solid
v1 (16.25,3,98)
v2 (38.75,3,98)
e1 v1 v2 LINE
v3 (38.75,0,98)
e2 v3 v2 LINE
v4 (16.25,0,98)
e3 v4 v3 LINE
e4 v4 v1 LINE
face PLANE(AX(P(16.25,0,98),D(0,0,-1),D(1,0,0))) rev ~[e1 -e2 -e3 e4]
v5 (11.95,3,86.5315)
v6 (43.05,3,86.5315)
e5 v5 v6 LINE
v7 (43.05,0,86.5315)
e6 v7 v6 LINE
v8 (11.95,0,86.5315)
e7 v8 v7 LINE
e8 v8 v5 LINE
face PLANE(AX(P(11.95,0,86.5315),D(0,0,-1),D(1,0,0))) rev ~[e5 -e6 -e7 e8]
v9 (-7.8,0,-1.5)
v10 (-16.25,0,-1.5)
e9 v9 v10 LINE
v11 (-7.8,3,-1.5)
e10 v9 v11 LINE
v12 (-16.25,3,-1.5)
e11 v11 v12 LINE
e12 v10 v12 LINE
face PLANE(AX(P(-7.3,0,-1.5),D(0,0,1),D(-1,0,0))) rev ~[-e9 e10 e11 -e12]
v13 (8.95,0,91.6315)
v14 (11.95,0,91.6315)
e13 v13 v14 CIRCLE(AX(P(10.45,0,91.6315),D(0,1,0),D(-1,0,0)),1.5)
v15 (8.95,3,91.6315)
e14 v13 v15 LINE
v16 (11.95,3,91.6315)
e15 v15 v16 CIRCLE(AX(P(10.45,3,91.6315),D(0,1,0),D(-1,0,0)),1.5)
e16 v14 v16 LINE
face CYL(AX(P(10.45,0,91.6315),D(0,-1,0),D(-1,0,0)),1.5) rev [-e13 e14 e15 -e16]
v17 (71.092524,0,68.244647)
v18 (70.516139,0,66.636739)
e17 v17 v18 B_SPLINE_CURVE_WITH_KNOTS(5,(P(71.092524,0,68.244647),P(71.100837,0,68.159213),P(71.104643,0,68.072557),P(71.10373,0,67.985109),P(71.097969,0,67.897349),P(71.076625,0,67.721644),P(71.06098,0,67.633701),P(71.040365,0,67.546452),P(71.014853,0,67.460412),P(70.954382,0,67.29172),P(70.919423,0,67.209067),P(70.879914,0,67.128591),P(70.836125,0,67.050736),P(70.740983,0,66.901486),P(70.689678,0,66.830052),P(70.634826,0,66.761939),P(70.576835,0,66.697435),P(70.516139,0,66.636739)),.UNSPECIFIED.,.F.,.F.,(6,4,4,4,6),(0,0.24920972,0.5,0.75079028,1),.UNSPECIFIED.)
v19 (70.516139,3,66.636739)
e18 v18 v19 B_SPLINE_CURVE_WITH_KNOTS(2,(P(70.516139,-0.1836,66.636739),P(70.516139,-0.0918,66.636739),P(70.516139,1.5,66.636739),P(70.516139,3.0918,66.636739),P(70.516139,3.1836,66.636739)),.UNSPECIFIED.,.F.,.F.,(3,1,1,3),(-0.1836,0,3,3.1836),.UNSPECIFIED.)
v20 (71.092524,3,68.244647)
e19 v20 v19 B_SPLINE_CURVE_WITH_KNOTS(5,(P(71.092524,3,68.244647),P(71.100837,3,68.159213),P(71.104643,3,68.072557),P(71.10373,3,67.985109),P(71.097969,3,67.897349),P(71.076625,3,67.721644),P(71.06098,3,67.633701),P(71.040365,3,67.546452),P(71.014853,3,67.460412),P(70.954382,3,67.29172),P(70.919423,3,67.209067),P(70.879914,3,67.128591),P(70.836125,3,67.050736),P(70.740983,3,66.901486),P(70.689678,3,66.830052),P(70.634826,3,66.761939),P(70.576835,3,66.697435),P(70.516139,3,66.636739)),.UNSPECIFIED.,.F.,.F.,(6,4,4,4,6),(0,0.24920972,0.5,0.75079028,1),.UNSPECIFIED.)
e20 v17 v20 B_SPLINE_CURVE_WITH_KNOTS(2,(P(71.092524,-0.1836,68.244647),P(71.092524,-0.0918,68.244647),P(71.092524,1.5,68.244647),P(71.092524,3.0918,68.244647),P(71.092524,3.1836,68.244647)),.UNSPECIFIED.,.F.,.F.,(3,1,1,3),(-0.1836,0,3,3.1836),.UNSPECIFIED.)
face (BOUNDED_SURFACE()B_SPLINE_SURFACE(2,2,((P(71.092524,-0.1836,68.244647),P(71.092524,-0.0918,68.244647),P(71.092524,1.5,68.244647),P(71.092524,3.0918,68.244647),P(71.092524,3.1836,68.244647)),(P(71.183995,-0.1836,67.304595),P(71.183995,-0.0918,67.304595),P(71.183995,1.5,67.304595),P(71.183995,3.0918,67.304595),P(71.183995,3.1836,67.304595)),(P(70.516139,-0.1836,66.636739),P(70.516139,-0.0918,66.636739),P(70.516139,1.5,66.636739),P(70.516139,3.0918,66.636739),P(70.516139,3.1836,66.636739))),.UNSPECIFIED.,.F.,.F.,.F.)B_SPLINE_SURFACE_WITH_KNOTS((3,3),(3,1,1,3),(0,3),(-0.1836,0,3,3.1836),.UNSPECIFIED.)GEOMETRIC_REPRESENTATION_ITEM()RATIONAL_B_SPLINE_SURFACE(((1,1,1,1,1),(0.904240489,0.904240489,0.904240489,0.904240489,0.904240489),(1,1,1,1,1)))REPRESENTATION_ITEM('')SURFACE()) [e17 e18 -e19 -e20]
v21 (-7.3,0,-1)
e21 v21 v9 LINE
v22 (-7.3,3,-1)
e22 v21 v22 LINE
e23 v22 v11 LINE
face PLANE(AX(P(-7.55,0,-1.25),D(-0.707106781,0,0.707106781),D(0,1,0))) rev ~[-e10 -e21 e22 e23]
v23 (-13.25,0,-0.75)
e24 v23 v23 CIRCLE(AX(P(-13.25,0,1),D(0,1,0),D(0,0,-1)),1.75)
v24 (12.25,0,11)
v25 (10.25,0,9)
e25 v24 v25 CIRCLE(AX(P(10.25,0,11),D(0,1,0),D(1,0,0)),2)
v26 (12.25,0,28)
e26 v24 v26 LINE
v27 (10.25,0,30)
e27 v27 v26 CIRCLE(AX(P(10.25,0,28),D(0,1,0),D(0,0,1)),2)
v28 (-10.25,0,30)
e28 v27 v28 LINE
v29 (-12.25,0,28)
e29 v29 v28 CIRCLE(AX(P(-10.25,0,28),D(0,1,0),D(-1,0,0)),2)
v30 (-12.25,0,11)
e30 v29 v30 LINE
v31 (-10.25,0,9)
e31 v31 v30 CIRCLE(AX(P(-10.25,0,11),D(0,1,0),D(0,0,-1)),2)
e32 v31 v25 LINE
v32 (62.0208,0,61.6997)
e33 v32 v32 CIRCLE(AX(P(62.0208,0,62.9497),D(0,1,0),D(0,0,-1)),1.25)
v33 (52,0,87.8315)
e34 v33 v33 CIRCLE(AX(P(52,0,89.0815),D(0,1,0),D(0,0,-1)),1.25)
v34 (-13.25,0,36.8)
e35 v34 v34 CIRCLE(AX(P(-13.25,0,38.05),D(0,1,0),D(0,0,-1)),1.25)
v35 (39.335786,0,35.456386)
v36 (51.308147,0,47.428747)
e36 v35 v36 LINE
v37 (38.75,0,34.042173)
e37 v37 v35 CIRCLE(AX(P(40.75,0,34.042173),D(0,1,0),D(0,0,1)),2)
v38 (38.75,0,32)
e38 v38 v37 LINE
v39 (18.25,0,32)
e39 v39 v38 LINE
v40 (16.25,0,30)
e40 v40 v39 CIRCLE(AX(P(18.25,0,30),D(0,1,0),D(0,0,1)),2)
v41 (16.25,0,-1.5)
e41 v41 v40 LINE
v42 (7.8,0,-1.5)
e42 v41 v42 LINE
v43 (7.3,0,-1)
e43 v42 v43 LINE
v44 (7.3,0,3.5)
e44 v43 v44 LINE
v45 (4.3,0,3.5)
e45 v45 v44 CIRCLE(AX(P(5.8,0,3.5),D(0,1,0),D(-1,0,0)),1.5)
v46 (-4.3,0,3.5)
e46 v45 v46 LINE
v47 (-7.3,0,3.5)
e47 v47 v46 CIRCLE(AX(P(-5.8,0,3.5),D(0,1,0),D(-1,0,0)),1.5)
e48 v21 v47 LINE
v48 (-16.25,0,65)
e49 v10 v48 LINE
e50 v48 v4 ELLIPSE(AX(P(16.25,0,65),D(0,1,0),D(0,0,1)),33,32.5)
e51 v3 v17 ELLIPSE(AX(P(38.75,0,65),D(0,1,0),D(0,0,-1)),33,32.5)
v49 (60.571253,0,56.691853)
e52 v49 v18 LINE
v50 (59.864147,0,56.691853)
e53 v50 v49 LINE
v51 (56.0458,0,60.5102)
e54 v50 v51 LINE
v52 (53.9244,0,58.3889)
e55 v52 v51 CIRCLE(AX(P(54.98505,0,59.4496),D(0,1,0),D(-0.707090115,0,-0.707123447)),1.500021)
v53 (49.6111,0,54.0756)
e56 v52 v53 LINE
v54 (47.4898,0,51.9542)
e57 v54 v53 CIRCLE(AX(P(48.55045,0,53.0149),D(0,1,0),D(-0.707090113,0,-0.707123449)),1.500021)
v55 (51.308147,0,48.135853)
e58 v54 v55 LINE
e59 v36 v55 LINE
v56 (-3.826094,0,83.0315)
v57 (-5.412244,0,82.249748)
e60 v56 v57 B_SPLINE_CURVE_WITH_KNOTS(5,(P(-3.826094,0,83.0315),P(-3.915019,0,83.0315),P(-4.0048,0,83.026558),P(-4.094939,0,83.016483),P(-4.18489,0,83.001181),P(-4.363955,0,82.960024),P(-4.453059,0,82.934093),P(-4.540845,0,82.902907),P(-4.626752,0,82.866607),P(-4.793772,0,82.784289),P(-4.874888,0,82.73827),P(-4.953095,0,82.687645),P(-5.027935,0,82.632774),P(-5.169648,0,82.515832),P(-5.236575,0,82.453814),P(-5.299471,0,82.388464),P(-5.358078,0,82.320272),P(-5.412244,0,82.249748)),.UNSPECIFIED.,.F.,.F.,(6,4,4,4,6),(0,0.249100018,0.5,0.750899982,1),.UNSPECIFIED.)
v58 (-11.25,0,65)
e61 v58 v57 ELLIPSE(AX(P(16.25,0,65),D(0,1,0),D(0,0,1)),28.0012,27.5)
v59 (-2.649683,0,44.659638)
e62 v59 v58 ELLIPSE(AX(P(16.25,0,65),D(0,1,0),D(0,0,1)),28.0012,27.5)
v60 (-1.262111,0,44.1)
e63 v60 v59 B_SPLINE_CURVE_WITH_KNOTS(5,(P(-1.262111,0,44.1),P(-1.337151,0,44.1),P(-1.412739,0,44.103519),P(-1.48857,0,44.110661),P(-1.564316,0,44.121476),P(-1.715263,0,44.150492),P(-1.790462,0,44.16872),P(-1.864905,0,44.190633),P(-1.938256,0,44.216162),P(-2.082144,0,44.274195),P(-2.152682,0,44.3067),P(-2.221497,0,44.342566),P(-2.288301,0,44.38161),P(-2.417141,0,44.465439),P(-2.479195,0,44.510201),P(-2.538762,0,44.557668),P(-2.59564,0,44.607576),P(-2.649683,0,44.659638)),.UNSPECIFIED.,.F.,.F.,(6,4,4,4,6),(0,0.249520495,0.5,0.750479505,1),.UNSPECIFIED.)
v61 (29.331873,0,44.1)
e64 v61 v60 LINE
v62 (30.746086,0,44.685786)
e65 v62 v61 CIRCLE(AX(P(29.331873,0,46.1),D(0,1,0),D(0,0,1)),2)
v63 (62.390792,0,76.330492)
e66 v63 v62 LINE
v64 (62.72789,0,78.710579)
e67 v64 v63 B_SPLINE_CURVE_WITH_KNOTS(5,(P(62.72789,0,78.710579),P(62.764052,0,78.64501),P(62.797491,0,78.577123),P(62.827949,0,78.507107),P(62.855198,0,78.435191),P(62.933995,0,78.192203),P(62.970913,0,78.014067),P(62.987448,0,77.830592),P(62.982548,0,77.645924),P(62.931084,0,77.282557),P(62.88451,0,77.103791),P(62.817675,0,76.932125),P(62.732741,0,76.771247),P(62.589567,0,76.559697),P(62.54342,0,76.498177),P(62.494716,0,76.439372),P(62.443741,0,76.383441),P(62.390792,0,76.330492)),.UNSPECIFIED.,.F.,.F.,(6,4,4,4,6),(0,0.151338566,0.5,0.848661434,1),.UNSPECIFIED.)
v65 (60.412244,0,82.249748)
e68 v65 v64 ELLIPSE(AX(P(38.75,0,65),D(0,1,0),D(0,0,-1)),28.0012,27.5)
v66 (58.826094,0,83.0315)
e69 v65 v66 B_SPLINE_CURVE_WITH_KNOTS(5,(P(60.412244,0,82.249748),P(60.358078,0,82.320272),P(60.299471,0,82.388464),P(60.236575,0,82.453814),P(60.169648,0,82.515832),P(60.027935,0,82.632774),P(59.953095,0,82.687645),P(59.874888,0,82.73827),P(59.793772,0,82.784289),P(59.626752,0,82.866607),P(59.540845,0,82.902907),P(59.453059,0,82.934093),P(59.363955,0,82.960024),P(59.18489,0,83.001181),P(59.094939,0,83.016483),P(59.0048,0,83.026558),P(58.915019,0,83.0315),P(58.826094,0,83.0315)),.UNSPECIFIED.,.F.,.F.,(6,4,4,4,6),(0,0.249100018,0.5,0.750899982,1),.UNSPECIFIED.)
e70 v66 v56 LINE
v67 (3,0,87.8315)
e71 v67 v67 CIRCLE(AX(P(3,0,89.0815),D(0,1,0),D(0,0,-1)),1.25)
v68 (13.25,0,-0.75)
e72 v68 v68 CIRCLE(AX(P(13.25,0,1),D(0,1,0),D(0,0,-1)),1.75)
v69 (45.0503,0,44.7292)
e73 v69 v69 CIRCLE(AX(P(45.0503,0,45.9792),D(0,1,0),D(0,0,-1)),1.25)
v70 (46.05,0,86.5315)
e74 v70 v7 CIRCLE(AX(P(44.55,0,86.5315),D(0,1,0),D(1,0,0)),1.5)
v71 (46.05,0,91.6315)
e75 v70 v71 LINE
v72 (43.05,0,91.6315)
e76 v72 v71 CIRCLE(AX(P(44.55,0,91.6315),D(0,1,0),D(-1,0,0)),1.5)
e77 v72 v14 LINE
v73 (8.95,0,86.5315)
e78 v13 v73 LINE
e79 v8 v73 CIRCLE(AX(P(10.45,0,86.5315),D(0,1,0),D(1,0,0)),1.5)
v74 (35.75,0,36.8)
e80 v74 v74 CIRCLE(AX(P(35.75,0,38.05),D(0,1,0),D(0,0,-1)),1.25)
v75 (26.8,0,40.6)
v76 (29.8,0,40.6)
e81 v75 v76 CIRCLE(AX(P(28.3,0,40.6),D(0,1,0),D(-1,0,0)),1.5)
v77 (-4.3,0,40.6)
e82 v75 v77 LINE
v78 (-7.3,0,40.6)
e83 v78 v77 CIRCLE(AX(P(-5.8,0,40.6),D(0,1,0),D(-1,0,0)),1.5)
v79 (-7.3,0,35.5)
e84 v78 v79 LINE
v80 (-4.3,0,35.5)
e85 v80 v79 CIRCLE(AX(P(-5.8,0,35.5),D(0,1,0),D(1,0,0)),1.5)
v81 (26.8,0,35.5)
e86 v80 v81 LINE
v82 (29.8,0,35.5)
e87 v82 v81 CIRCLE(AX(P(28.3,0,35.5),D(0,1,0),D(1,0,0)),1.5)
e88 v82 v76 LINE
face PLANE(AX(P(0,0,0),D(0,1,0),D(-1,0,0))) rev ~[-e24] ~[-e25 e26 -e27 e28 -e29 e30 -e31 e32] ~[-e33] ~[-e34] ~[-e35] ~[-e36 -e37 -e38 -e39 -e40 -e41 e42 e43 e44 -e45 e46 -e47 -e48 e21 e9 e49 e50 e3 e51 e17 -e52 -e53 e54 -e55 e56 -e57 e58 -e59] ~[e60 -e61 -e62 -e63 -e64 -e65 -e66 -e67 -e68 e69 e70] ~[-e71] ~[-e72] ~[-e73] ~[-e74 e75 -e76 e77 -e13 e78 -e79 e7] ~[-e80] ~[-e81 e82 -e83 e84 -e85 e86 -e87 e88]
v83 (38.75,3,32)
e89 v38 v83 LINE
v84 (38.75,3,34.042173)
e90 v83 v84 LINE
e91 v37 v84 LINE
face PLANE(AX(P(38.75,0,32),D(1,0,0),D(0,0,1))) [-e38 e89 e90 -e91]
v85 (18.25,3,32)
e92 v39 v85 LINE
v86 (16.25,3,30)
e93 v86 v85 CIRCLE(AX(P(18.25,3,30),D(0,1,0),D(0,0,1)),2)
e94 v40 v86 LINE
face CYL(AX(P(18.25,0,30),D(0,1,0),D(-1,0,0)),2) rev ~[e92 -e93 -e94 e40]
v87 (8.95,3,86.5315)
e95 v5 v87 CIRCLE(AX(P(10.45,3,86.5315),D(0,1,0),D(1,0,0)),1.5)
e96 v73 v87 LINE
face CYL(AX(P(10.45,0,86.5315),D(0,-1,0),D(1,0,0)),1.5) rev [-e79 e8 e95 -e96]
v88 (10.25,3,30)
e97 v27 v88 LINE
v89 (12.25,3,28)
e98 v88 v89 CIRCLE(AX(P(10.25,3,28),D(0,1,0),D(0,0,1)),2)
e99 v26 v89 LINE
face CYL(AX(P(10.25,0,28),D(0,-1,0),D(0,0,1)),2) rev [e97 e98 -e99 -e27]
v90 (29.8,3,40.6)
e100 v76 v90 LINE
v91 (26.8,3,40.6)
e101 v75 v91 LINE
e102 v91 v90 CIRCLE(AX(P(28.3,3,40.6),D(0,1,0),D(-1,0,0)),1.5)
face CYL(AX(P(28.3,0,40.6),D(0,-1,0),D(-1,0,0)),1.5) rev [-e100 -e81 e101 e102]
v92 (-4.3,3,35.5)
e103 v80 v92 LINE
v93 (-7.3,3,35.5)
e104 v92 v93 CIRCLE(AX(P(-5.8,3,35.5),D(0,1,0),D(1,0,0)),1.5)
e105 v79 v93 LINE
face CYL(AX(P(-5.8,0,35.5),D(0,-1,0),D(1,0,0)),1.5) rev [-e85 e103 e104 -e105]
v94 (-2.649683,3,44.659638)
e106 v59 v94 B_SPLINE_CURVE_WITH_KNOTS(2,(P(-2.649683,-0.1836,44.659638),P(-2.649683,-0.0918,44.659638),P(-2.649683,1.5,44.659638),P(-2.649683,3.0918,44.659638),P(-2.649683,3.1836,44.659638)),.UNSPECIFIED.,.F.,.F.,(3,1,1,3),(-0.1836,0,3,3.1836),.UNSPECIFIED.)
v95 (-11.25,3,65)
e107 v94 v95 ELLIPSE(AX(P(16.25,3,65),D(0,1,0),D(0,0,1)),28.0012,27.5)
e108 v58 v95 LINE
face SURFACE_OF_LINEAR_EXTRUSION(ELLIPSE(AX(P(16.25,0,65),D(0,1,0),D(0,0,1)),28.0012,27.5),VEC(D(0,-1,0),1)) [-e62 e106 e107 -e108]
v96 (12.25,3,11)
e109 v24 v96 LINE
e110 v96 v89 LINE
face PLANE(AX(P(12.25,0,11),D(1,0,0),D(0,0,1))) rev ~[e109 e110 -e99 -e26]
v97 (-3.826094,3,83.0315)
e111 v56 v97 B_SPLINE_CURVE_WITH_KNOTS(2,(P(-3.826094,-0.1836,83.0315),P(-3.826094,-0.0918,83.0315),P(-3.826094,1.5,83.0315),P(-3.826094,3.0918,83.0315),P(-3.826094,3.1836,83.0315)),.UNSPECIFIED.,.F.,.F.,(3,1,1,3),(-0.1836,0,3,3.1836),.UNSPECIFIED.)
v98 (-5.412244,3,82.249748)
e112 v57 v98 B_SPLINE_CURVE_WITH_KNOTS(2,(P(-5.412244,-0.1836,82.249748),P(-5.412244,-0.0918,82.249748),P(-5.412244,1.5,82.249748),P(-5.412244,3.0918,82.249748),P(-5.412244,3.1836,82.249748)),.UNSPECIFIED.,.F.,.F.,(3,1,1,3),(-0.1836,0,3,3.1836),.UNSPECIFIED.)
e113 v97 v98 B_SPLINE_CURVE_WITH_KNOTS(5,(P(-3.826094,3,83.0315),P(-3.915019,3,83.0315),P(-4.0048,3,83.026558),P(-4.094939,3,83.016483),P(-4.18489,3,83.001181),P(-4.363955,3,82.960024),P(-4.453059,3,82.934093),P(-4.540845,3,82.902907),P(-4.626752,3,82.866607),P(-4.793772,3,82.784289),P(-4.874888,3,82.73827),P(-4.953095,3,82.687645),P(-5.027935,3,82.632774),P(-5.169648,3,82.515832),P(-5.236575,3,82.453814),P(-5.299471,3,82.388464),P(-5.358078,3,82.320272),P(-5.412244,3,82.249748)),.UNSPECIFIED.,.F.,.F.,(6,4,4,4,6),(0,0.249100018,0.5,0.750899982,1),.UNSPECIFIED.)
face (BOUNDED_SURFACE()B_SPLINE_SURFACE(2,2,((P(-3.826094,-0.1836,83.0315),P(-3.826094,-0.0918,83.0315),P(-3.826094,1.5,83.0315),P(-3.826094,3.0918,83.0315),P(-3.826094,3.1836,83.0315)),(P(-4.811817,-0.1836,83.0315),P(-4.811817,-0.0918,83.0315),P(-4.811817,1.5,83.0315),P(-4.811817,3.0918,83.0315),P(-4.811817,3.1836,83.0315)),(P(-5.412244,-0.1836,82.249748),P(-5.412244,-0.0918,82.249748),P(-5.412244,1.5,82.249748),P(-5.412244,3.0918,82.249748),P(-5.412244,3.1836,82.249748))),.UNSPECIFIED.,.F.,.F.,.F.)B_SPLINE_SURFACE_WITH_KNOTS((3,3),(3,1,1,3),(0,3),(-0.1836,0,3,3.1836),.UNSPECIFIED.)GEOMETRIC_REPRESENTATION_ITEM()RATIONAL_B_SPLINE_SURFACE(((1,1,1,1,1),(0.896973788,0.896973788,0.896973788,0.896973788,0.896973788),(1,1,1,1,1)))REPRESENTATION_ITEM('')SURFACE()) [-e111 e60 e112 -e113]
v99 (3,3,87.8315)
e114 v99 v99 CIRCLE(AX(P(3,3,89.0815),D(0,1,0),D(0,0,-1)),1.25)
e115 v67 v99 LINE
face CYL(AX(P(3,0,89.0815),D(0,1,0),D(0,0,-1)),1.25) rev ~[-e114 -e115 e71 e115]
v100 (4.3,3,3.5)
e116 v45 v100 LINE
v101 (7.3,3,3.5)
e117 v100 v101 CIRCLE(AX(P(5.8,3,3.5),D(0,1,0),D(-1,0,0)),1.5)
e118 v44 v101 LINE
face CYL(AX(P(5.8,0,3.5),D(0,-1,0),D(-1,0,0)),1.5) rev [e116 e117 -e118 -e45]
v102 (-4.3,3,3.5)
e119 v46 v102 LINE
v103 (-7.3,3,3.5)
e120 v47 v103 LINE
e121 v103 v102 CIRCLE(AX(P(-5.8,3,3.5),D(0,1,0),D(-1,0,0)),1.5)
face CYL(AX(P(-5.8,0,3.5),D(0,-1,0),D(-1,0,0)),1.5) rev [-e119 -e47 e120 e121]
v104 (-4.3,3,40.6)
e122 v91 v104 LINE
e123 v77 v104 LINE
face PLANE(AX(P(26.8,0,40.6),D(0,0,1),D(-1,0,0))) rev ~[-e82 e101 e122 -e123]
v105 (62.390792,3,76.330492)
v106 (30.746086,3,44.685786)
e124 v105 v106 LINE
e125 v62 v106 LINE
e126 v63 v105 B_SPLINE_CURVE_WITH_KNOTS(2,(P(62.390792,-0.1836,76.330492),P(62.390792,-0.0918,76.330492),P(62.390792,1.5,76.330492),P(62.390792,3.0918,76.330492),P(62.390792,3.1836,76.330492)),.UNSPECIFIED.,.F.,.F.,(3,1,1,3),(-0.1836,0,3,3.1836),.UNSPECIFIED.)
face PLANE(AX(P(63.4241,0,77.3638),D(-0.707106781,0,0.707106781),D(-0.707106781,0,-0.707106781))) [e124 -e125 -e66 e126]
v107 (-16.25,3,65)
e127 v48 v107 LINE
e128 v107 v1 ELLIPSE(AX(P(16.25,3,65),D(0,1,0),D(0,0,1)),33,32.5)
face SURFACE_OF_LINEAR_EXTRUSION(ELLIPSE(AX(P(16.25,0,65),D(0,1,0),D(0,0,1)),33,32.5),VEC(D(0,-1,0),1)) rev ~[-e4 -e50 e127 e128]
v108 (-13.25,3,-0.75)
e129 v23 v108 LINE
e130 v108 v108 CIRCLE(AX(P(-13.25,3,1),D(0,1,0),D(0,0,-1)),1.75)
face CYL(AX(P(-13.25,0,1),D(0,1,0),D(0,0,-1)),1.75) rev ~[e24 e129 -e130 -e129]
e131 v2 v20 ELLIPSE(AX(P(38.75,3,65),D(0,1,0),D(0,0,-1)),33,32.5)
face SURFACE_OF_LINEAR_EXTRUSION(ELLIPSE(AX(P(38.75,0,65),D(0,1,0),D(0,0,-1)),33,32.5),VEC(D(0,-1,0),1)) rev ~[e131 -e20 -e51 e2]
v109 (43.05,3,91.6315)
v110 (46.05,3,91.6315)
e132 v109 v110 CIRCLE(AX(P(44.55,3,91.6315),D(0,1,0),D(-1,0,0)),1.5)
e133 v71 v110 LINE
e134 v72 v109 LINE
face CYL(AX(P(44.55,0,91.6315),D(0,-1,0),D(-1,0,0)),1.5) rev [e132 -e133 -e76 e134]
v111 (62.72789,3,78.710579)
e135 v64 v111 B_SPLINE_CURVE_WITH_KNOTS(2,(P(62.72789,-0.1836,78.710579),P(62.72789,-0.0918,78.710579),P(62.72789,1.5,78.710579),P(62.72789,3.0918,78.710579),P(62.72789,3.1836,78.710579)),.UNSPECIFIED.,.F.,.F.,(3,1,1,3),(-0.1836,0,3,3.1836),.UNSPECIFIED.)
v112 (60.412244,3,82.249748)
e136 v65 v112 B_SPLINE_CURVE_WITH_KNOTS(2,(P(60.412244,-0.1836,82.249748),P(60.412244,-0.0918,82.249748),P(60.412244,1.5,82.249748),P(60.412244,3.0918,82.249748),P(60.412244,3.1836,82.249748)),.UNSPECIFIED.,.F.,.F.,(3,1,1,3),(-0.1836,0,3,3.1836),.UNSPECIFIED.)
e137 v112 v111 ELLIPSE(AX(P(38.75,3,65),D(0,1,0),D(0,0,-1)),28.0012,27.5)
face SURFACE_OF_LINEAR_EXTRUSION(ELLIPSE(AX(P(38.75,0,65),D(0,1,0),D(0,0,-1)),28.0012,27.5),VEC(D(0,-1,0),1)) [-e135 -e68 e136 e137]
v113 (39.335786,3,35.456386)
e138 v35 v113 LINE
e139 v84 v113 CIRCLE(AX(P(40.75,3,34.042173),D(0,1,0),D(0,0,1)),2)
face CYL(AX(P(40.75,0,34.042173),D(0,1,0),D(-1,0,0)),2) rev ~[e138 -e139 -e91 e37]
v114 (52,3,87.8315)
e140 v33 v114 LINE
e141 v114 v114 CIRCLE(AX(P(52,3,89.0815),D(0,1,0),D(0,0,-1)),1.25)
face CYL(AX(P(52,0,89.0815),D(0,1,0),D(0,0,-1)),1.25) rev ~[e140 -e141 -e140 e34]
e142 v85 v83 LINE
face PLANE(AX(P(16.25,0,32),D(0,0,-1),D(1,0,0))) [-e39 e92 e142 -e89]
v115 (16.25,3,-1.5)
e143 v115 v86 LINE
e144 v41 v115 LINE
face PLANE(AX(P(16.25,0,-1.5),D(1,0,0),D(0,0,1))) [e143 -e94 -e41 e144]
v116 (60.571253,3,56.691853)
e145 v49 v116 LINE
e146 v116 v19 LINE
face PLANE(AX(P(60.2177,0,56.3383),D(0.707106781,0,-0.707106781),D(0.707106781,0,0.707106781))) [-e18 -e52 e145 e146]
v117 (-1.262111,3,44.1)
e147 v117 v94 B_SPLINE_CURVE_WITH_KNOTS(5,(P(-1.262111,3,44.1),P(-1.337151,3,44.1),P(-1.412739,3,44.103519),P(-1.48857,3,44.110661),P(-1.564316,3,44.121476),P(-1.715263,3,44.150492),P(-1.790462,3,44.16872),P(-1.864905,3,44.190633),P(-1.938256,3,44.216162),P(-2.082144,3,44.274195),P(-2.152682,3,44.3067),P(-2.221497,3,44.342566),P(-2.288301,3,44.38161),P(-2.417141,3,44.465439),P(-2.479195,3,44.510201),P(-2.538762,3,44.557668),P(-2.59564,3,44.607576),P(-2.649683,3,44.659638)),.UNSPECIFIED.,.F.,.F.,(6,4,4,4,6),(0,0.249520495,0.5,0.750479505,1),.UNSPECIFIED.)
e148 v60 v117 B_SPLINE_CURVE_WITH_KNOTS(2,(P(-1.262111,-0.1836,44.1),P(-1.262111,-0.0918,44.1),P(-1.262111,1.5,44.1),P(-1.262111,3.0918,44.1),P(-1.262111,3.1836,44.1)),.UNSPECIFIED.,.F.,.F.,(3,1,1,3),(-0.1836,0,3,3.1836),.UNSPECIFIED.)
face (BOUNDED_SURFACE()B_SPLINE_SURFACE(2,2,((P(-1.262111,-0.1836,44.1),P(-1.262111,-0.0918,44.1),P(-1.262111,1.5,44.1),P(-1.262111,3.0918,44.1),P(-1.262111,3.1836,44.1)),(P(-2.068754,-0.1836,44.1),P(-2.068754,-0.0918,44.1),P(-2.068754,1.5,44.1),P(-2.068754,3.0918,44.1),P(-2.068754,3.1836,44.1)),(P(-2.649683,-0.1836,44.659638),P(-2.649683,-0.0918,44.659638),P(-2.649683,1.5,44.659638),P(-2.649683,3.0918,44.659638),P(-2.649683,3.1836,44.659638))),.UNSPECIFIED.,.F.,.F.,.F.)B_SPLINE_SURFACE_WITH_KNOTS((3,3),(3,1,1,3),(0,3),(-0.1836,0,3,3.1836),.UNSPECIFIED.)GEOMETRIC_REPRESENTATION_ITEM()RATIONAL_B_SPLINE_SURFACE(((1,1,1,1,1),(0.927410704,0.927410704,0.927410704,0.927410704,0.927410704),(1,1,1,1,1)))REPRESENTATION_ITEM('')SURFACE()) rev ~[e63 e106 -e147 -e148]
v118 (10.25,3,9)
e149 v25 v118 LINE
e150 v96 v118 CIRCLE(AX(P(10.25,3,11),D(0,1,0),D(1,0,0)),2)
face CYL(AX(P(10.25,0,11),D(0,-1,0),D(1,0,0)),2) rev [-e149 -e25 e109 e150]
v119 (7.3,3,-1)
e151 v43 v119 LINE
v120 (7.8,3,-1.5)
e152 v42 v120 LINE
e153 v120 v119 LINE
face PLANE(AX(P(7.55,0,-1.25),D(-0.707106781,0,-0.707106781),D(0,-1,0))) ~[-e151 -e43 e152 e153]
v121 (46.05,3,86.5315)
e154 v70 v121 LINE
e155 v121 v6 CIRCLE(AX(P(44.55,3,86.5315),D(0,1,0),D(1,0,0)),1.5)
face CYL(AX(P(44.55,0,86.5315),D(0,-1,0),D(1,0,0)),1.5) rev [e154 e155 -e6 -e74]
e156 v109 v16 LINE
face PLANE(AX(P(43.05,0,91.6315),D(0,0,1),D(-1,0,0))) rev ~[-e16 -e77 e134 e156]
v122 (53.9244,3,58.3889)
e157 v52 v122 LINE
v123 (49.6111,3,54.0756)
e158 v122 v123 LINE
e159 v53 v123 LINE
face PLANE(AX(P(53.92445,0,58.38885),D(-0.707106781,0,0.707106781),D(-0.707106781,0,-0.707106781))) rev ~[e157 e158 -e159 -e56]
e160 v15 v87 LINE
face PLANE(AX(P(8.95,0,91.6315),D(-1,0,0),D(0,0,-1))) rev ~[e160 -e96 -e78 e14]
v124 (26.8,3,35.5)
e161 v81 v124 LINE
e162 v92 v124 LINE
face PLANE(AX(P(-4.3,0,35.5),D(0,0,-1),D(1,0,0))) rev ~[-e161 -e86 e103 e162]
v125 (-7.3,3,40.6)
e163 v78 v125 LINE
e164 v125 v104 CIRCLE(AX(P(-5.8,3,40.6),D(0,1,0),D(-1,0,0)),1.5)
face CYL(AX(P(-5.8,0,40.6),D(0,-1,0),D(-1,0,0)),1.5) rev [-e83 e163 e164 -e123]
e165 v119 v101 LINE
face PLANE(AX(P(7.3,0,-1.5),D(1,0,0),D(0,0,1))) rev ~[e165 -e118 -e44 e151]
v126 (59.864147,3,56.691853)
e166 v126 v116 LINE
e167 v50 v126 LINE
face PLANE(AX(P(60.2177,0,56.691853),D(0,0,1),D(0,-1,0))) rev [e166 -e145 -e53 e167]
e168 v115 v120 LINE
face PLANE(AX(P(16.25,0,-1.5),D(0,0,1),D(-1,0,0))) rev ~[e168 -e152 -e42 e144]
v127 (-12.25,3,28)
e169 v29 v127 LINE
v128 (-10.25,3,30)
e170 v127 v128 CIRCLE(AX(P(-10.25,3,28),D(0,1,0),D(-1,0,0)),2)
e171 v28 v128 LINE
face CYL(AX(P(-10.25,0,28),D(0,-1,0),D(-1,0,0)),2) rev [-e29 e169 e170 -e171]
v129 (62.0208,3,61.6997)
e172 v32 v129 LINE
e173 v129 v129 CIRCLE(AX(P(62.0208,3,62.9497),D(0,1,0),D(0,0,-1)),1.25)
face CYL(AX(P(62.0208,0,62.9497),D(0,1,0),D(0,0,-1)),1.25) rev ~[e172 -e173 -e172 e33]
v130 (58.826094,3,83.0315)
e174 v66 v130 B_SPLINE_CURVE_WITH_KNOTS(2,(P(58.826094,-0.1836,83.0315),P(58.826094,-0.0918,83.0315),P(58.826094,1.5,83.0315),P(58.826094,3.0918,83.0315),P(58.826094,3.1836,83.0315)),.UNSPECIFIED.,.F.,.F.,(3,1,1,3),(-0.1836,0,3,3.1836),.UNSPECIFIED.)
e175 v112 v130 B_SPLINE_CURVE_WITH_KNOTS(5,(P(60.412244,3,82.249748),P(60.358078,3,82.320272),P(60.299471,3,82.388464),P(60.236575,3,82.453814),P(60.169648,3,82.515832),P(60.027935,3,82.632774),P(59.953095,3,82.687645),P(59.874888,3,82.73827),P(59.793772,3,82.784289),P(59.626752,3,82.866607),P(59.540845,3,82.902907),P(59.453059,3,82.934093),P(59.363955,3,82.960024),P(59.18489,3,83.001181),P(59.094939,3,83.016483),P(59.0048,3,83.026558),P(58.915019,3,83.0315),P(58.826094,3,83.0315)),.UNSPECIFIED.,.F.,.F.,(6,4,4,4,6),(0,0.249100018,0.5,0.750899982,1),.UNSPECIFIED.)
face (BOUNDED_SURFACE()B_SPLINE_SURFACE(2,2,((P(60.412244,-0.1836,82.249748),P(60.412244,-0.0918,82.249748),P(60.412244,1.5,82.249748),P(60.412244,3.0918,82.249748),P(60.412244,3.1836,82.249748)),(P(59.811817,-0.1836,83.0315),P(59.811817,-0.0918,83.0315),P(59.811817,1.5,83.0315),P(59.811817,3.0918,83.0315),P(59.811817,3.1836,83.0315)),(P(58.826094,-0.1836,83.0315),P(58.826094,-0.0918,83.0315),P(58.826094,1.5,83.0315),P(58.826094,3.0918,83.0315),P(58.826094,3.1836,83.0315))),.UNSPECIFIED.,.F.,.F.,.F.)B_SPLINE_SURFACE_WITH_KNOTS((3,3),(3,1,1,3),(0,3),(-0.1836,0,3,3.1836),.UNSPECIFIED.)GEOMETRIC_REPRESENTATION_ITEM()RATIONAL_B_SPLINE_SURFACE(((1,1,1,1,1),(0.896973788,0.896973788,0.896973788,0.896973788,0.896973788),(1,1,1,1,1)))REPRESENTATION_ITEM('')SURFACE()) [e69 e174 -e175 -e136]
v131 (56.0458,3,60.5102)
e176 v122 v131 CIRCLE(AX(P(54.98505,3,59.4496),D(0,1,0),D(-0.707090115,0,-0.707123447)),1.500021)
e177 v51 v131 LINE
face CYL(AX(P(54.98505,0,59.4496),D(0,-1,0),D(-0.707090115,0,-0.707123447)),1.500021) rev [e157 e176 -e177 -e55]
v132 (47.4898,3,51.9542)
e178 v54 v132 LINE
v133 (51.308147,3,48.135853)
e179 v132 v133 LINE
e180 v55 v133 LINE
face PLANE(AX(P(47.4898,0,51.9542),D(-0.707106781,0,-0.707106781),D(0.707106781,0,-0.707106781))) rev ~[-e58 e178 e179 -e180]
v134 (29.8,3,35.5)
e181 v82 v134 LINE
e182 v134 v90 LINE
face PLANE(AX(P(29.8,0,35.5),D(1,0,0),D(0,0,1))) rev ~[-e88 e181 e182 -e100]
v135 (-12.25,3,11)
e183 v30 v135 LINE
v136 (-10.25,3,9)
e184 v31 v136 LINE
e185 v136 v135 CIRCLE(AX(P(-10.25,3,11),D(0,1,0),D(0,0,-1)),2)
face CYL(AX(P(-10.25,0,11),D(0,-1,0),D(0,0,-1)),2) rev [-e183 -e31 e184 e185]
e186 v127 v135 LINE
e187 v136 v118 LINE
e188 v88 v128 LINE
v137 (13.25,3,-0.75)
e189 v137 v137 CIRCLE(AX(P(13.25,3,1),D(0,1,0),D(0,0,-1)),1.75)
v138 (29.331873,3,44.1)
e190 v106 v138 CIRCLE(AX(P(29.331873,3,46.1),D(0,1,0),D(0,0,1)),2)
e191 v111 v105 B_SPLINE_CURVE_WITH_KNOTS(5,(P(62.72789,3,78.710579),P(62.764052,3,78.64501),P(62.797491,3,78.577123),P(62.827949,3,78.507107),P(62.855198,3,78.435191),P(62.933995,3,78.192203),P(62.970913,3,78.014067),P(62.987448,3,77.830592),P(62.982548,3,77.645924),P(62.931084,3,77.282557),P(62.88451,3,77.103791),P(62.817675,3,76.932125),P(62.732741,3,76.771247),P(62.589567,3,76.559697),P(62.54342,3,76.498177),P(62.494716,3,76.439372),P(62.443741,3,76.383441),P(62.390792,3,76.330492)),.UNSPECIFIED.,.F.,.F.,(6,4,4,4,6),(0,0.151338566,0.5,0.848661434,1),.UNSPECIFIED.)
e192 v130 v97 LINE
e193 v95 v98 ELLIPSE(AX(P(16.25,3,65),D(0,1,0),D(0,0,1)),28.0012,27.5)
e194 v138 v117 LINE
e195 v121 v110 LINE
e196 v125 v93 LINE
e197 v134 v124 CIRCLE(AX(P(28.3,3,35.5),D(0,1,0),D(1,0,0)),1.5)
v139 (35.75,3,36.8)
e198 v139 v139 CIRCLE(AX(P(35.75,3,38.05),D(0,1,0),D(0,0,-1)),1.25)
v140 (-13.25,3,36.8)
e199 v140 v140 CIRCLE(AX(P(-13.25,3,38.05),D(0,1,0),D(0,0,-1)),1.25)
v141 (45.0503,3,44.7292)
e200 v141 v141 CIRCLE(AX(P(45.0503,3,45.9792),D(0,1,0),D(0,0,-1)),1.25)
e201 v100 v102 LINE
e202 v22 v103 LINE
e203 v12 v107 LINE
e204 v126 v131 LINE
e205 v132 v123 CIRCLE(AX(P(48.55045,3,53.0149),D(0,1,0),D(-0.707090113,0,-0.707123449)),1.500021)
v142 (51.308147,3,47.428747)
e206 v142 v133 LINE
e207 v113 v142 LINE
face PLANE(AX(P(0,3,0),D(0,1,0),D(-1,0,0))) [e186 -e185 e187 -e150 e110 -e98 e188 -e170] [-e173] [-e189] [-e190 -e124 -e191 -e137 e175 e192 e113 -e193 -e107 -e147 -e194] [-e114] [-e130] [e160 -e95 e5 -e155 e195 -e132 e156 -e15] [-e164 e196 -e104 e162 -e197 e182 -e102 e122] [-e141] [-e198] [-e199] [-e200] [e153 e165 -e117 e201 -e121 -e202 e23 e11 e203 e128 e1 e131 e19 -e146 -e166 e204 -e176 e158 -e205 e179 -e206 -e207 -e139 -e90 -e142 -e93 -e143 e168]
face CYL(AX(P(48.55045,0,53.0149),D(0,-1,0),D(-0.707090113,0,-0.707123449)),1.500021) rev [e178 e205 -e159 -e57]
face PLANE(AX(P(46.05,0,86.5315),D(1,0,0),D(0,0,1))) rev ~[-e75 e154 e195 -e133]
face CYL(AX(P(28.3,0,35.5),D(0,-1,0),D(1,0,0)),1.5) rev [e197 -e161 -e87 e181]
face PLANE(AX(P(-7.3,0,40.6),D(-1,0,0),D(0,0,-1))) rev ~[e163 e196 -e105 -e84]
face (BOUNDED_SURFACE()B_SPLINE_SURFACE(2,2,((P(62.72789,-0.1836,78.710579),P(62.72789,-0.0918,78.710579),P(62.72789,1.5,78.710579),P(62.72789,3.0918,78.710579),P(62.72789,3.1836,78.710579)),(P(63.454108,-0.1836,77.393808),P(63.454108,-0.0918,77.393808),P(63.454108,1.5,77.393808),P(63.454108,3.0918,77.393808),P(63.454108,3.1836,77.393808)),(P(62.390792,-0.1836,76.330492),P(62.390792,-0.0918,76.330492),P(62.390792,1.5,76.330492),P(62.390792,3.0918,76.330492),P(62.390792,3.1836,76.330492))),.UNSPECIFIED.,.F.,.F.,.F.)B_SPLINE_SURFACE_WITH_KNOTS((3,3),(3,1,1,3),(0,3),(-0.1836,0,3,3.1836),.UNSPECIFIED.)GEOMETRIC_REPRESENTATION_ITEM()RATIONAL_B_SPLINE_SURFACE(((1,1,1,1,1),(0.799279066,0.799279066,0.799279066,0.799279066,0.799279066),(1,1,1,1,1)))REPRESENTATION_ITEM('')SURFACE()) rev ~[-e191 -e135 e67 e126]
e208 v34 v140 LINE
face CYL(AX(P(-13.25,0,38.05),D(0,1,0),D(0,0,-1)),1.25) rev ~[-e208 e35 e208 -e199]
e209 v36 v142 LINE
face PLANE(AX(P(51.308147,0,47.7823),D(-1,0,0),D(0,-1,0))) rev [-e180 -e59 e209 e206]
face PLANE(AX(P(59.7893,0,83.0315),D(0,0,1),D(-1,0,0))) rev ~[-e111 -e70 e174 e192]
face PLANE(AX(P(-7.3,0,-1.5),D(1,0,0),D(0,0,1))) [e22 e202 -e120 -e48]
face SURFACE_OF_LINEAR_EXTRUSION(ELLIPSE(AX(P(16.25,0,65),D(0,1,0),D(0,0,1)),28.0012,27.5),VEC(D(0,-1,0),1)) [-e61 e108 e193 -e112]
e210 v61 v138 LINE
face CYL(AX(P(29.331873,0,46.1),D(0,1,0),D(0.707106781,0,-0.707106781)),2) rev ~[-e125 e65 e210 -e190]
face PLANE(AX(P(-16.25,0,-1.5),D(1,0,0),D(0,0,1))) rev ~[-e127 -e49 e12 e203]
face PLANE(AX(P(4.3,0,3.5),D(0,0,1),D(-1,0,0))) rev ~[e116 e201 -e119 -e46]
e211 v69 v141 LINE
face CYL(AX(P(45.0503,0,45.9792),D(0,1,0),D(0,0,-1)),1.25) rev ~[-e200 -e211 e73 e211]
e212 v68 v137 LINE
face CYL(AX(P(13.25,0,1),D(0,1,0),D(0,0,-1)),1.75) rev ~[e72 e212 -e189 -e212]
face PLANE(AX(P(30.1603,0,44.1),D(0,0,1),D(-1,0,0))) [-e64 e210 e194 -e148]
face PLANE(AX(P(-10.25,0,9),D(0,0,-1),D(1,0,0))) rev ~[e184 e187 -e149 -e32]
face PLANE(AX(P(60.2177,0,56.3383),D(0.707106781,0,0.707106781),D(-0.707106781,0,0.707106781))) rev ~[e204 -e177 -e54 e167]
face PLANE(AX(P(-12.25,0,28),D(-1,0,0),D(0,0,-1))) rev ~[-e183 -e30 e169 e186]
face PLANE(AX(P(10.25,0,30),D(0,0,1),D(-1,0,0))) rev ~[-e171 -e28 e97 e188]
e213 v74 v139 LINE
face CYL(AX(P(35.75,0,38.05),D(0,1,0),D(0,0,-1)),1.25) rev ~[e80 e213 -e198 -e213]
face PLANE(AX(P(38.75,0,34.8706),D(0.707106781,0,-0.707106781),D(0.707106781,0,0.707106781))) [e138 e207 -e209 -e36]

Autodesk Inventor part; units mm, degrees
ref_plane "YZ Plane" through (0, 0, 0) normal (1, 0, 0) x (0, 1, 0)
ref_plane "XZ Plane" through (0, 0, 0) normal (0, 1, 0) x (-1, 0, 0)
ref_plane "XY Plane" through (0, 0, 0) normal (0, 0, 1) x (1, 0, 0)
sketch "Sketch1" plane through (0, 0, 0) normal (0, 1, 0) x (-1, 0, 0)
  line L0 (-16.25, -1.5) -> (16.25, -1.5)
  line L1 (-7.25, -1.5) -> (-7.25, 3.5) construction
  line L2 (-7.25, 3.5) -> (7.25, 3.5) construction
  line L3 (0, 3.5) -> (0, -1.5) construction
  line L4 (7.25, -1.5) -> (7.25, 3.5) construction
  line L5 (-13.25, 1) -> (13.25, 1) construction
  line L6 (-7.3, -1.5) -> (-7.3, 3.5)
  line L7 (-7.3, 3.5) -> (7.3, 3.5)
  arc A0 (-4.3, 3.5) -> (-7.3, 3.5) centre (-5.8, 3.5) ccw
  line L8 (7.3, -1.5) -> (7.3, 3.5)
  arc A1 (7.3, 3.5) -> (4.3, 3.5) centre (5.8, 3.5) ccw
  line L9 (-16.25, -1.5) -> (-16.25, 32)
  line L10 (16.25, -1.5) -> (16.25, 65)
  ellipse E0 centre (-16.25, 65) end of major axis (18.25, 65) minor radius 35 (-16.25, 30) -> (-16.25, 100) ccw construction
  line L11 (-16.25, 30) -> (-16.25, 100) construction
  line L12 (-16.25, 65) -> (18.25, 65) construction
  ellipse E1 centre (-16.25, 65) end of major axis (16.25, 65) minor radius 33 (-16.25, 32) -> (16.25, 65) ccw construction
  line L13 (-16.25, 32) -> (-38.75, 32)
  line L14 (-16.25, 98) -> (-38.75, 98)
  line L15 (-27.5, 98) -> (-27.5, 32) construction
  ellipse E2 centre (-38.75, 65) end of major axis (-73.25, 65) minor radius 35 (-38.75, 100) -> (-38.75, 30) ccw construction
  ellipse E3 centre (-38.75, 65) end of major axis (-71.25, 65) minor radius 33 (-38.75, 98) -> (-71.1715, 67.2921) ccw
  line L16 (-38.75, 30) -> (-16.25, 30) construction
  line L17 (-38.75, 100) -> (-16.25, 100) construction
  line L18 (-10.25, 30) -> (10.25, 30)
  line L19 (12.25, 28) -> (12.25, 11)
  line L20 (10.25, 9) -> (-10.25, 9)
  line L21 (-12.25, 11) -> (-12.25, 28)
  line L22 (-12.25, 30) -> (12.25, 9) construction
  line L23 (12.25, 30) -> (-12.25, 9) construction
  arc A2 (-10.25, 30) -> (-12.25, 28) centre (-10.25, 28) ccw
  arc A3 (-12.25, 11) -> (-10.25, 9) centre (-10.25, 11) ccw
  arc A4 (10.25, 9) -> (12.25, 11) centre (10.25, 11) ccw
  arc A5 (12.25, 28) -> (10.25, 30) centre (10.25, 28) ccw
  line L24 (-38.75, 30) -> (-38.75, 100) construction
  line L25 (-38.75, 32) -> (-38.75, 34.8706)
  line L26 (-38.75, 34.8706) -> (-71.1715, 67.2921)
  line L27 (-62.0208, 45.9792) -> (-108, 0) construction
  line L28 (-108, 0) -> (0, 0) construction
  ellipse E4 centre (-38.75, 65) end of major axis (-71.25, 65) minor radius 33 (-71.1715, 67.2921) -> (-38.75, 32) ccw construction
  ellipse E5 centre (-16.25, 65) end of major axis (16.25, 65) minor radius 33 (16.25, 65) -> (-16.25, 98) ccw
  line L29 (-55, 91.5815) -> (0, 91.5815) construction
  line L30 (0, 91.5815) -> (0, 86.5815) construction
  line L31 (0, 86.5815) -> (-55, 86.5815) construction
  line L32 (-55, 86.5815) -> (-55, 91.5815) construction
  line L33 (-55, 91.5815) -> (0, 86.5815) construction
  line L34 (0, 91.5815) -> (-55, 86.5815) construction
  line L35 (-47.5, 91.5815) -> (-47.5, 96.7815) construction
  line L36 (-47.5, 96.7815) -> (-7.5, 96.7815) construction
  line L37 (-7.5, 96.7815) -> (-7.5, 91.5815) construction
  line L38 (-46, 91.5815) -> (-46, 86.5815) construction
  line L39 (-52, 89.0815) -> (-3, 89.0815) construction
  line L40 (-9, 91.5815) -> (-9, 86.5815) construction
  line L41 (-8.95, 86.5315) -> (-46.05, 86.5315)
  line L42 (-46.05, 86.5315) -> (-46.05, 91.6315)
  line L43 (-46.05, 91.6315) -> (-8.95, 91.6315)
  line L44 (-8.95, 91.6315) -> (-8.95, 86.5315)
  line L45 (-8.95, 86.5315) -> (-46.05, 91.6315) construction
  line L46 (-46.05, 86.5315) -> (-8.95, 91.6315) construction
  arc A6 (-43.05, 91.6315) -> (-46.05, 91.6315) centre (-44.55, 91.6315) ccw
  arc A7 (-46.05, 86.5315) -> (-43.05, 86.5315) centre (-44.55, 86.5315) ccw
  arc A8 (-8.95, 91.6315) -> (-11.95, 91.6315) centre (-10.45, 91.6315) ccw
  arc A9 (-11.95, 86.5315) -> (-8.95, 86.5315) centre (-10.45, 86.5315) ccw
  line L47 (-54.1012, 75.112) -> (-60.6066, 68.6066) construction
  line L48 (-60.6066, 68.6066) -> (-39.3934, 47.3934) construction
  line L49 (-39.3934, 47.3934) -> (-32.888, 53.8988) construction
  line L50 (-32.888, 53.8988) -> (-54.1012, 75.112) construction
  line L51 (-56.0104, 64.0104) -> (-72.2739, 47.747) construction
  line L52 (-72.2739, 47.747) -> (-60.253, 35.7261) construction
  line L53 (-60.253, 35.7261) -> (-43.9896, 51.9896) construction
  line L54 (-60.1823, 56.3029) -> (-56.0104, 60.4749) construction
  line L55 (-56.0104, 60.4749) -> (-47.5251, 51.9896) construction
  line L56 (-47.5251, 51.9896) -> (-51.6971, 47.8177) construction
  line L57 (-60.2177, 56.3383) -> (-56.0458, 60.5102)
  line L58 (-56.0458, 60.5102) -> (-47.4898, 51.9542)
  line L59 (-47.4898, 51.9542) -> (-51.6617, 47.7823)
  arc A10 (-47.4898, 51.9542) -> (-49.6111, 54.0756) centre (-48.5504, 53.0149) ccw
  arc A11 (-53.9244, 58.3889) -> (-56.0458, 60.5102) centre (-54.9851, 59.4496) ccw
  line L60 (-62.0208, 62.9497) -> (-45.0503, 45.9792) construction
  line L61 (-51.7678, 56.2322) -> (-55.3033, 52.6967) construction
  line L62 (-59.5459, 56.9393) -> (-51.0607, 48.4541) construction
  circle A12 centre (-45.0503, 45.9792) radius 2.4 construction
  circle A13 centre (-45.0503, 45.9792) radius 1.25 construction
  line L63 (-65.9099, 63.3033) -> (-62.3744, 66.8388) construction
  line L64 (-44.6967, 42.0901) -> (-41.1612, 45.6256) construction
  line L65 (-29.75, 40.55) -> (7.25, 40.55) construction
  line L66 (7.25, 40.55) -> (7.25, 35.55) construction
  line L67 (7.25, 35.55) -> (-29.75, 35.55) construction
  line L68 (-29.75, 35.55) -> (-29.75, 40.55) construction
  line L69 (-29.75, 40.55) -> (7.25, 35.55) construction
  line L70 (7.25, 40.55) -> (-29.75, 35.55) construction
  line L71 (-35.75, 38.05) -> (13.25, 38.05) construction
  line L72 (-11.25, 40.55) -> (-11.25, 35.55) construction
  line L73 (-38.75, 40.55) -> (-38.75, 35.55) construction
  line L74 (16.25, 40.55) -> (16.25, 35.55) construction
  line L75 (-29.8, 40.6) -> (7.3, 40.6)
  line L76 (7.3, 40.6) -> (7.3, 35.5)
  line L77 (7.3, 35.5) -> (-29.8, 35.5)
  line L78 (-29.8, 35.5) -> (-29.8, 40.6)
  line L79 (-29.8, 40.6) -> (7.3, 35.5) construction
  line L80 (7.3, 40.6) -> (-29.8, 35.5) construction
  arc A14 (4.3, 35.5) -> (7.3, 35.5) centre (5.8, 35.5) ccw
  arc A15 (7.3, 40.6) -> (4.3, 40.6) centre (5.8, 40.6) ccw
  arc A16 (-29.8, 35.5) -> (-26.8, 35.5) centre (-28.3, 35.5) ccw
  arc A17 (-26.8, 40.6) -> (-29.8, 40.6) centre (-28.3, 40.6) ccw
  line L81 (-59.7893, 83.0315) -> (4.7893, 83.0315)
  line L82 (-63.4241, 77.3638) -> (-30.1603, 44.1)
  ellipse E6 centre (-16.25, 65) end of major axis (11.25, 65) minor radius 28.0012 (2.0513, 44.1) -> (11.25, 65) ccw
  ellipse E7 centre (-16.25, 65) end of major axis (11.25, 65) minor radius 28.0012 (11.25, 65) -> (4.7893, 83.0315) ccw
  ellipse E8 centre (-38.75, 65) end of major axis (-66.25, 65) minor radius 28.0012 (-59.7893, 83.0315) -> (-63.4241, 77.3638) ccw
  line L83 (-16.25, 65) -> (8.5857, 86.2852) construction
  line L84 (-30.1603, 44.1) -> (2.0513, 44.1)
  line L85 (-62.0208, 45.9792) -> (-32.844, 9.9488)
  line L86 (-32.844, 9.9488) -> (-98.0512, 75.156)
  line L87 (-98.0512, 75.156) -> (-62.0208, 45.9792)
  line L88 (-38.75, 65) -> (-73.25, 65) construction
  point P0 (0, 1)
  point P1 (0, 19.5)
  point P2 (5.8, 5)
  point P3 (-27.5, 89.0815)
  point P4 (-53.5355, 54.4645)
  point P5 (-50, 58)
  point P6 (-11.25, 38.05)
  point P7 (-11.25, 38.05)
  point P8 (4.3, 3.5)
  point P9 (-53.9244, 58.3889)
  point P10 (-26.8, 35.5)
  point P11 (-26.8, 40.6)
  point P12 (4.3, 40.6)
  point P13 (-11.95, 91.6315)
  point P14 (-11.95, 86.5315)
  point P15 (-43.05, 86.5315)
  point P16 (-10.45, 85.0315)
  point P17 (-28.3, 34)
  point P18 (5.8, 42.1)
  point P19 (-27.5, 89.0815)
  dimension "d0" = 32.5
  dimension "d1" = 9
  dimension "d2" = 6
  dimension "d3" = 1.5
  dimension "d4" = 5
  dimension "d5" = 0.05
  dimension "d7" = 1.5
  dimension "d8" = 70
  dimension "d10" = 100
  dimension "d12" = 2
  dimension "d14" = 2
  dimension "d15" = 22.5
  dimension "d16" = 4
  dimension "d18" = 2
  dimension "d19" = 55
  dimension "d20" = 5
  dimension "d21" = 5.2
  dimension "d22" = 40
  dimension "d24" = 9
  dimension "d25" = 6
  dimension "d26" = 0.05
  dimension "d27" = 0.05
  dimension "d28" = 6
  dimension "d29" = 9.2
  dimension "d30" = 23
  dimension "d31" = 17
  dimension "d32" = 30
  dimension "d33" = 0.05
  dimension "d34" = 5
  dimension "d35" = 6
  dimension "d36" = 2.5
  dimension "d37" = 4.8
  dimension "d38" = 2.5
  dimension "d39" = 1
  dimension "d40" = 50
  dimension "d41" = 58
  dimension "d42" = 45
  dimension "d43" = 30
  dimension "d44" = 9
  dimension "d46" = 5
  dimension "d47" = 6
  dimension "d48" = 9
  dimension "d49" = 0.05
  dimension "d50" = 0.05
  dimension "d54" = 5
  dimension "d56" = 10
  dimension "d59" = 5
  dimension "d61" = 3.55
  dimension "d80" = 55
  dimension "d83" = 2
  dimension "d84" = 2
  dimension "d85" = 168
  dimension "d86" = 24.5
  dimension "d87" = 2
extrude "Extrusion1" add sketch "Sketch1" along normal blind 3 contours L9 L13 L25 L26 L59 A10 L58 A11 L57 E3 L14 E5 L10 L0 L8 A1 L7 A0 L6
hole "Phi3.5" at (13.25, 0, 1) at (-13.25, 0, 1) direction (0, 1, 0) diameter 3.5 end through all
hole "Phi2.5" at (52, 0, 89.0815) at (3, 0, 89.0815) at (62.0208, 0, 62.9497) at (45.0503, 0, 45.9792) at (35.75, 0, 38.05) at (-13.25, 0, 38.05) direction (0, 1, 0) diameter 2.5 end through all
chamfer "C0.5" distance 0.5 angle 45 4 edges at (60.2177, 1.5, 56.3383) (51.6617, 1.5, 47.7823) (7.3, 1.5, -1.5) (-7.3, 1.5, -1.5)
fillet "R2" radius 2 8 edges at (63.4241, 1.5, 77.3638) (59.7893, 1.5, 83.0315) (-4.7893, 1.5, 83.0315) (-2.0513, 1.5, 44.1) (30.1603, 1.5, 44.1) (16.25, 1.5, 32) (38.75, 1.5, 34.8706) (71.1715, 1.5, 67.2921)
equation "\"d14\" = d12"
properties part number "HeadSideFrame" material "CFRP"
